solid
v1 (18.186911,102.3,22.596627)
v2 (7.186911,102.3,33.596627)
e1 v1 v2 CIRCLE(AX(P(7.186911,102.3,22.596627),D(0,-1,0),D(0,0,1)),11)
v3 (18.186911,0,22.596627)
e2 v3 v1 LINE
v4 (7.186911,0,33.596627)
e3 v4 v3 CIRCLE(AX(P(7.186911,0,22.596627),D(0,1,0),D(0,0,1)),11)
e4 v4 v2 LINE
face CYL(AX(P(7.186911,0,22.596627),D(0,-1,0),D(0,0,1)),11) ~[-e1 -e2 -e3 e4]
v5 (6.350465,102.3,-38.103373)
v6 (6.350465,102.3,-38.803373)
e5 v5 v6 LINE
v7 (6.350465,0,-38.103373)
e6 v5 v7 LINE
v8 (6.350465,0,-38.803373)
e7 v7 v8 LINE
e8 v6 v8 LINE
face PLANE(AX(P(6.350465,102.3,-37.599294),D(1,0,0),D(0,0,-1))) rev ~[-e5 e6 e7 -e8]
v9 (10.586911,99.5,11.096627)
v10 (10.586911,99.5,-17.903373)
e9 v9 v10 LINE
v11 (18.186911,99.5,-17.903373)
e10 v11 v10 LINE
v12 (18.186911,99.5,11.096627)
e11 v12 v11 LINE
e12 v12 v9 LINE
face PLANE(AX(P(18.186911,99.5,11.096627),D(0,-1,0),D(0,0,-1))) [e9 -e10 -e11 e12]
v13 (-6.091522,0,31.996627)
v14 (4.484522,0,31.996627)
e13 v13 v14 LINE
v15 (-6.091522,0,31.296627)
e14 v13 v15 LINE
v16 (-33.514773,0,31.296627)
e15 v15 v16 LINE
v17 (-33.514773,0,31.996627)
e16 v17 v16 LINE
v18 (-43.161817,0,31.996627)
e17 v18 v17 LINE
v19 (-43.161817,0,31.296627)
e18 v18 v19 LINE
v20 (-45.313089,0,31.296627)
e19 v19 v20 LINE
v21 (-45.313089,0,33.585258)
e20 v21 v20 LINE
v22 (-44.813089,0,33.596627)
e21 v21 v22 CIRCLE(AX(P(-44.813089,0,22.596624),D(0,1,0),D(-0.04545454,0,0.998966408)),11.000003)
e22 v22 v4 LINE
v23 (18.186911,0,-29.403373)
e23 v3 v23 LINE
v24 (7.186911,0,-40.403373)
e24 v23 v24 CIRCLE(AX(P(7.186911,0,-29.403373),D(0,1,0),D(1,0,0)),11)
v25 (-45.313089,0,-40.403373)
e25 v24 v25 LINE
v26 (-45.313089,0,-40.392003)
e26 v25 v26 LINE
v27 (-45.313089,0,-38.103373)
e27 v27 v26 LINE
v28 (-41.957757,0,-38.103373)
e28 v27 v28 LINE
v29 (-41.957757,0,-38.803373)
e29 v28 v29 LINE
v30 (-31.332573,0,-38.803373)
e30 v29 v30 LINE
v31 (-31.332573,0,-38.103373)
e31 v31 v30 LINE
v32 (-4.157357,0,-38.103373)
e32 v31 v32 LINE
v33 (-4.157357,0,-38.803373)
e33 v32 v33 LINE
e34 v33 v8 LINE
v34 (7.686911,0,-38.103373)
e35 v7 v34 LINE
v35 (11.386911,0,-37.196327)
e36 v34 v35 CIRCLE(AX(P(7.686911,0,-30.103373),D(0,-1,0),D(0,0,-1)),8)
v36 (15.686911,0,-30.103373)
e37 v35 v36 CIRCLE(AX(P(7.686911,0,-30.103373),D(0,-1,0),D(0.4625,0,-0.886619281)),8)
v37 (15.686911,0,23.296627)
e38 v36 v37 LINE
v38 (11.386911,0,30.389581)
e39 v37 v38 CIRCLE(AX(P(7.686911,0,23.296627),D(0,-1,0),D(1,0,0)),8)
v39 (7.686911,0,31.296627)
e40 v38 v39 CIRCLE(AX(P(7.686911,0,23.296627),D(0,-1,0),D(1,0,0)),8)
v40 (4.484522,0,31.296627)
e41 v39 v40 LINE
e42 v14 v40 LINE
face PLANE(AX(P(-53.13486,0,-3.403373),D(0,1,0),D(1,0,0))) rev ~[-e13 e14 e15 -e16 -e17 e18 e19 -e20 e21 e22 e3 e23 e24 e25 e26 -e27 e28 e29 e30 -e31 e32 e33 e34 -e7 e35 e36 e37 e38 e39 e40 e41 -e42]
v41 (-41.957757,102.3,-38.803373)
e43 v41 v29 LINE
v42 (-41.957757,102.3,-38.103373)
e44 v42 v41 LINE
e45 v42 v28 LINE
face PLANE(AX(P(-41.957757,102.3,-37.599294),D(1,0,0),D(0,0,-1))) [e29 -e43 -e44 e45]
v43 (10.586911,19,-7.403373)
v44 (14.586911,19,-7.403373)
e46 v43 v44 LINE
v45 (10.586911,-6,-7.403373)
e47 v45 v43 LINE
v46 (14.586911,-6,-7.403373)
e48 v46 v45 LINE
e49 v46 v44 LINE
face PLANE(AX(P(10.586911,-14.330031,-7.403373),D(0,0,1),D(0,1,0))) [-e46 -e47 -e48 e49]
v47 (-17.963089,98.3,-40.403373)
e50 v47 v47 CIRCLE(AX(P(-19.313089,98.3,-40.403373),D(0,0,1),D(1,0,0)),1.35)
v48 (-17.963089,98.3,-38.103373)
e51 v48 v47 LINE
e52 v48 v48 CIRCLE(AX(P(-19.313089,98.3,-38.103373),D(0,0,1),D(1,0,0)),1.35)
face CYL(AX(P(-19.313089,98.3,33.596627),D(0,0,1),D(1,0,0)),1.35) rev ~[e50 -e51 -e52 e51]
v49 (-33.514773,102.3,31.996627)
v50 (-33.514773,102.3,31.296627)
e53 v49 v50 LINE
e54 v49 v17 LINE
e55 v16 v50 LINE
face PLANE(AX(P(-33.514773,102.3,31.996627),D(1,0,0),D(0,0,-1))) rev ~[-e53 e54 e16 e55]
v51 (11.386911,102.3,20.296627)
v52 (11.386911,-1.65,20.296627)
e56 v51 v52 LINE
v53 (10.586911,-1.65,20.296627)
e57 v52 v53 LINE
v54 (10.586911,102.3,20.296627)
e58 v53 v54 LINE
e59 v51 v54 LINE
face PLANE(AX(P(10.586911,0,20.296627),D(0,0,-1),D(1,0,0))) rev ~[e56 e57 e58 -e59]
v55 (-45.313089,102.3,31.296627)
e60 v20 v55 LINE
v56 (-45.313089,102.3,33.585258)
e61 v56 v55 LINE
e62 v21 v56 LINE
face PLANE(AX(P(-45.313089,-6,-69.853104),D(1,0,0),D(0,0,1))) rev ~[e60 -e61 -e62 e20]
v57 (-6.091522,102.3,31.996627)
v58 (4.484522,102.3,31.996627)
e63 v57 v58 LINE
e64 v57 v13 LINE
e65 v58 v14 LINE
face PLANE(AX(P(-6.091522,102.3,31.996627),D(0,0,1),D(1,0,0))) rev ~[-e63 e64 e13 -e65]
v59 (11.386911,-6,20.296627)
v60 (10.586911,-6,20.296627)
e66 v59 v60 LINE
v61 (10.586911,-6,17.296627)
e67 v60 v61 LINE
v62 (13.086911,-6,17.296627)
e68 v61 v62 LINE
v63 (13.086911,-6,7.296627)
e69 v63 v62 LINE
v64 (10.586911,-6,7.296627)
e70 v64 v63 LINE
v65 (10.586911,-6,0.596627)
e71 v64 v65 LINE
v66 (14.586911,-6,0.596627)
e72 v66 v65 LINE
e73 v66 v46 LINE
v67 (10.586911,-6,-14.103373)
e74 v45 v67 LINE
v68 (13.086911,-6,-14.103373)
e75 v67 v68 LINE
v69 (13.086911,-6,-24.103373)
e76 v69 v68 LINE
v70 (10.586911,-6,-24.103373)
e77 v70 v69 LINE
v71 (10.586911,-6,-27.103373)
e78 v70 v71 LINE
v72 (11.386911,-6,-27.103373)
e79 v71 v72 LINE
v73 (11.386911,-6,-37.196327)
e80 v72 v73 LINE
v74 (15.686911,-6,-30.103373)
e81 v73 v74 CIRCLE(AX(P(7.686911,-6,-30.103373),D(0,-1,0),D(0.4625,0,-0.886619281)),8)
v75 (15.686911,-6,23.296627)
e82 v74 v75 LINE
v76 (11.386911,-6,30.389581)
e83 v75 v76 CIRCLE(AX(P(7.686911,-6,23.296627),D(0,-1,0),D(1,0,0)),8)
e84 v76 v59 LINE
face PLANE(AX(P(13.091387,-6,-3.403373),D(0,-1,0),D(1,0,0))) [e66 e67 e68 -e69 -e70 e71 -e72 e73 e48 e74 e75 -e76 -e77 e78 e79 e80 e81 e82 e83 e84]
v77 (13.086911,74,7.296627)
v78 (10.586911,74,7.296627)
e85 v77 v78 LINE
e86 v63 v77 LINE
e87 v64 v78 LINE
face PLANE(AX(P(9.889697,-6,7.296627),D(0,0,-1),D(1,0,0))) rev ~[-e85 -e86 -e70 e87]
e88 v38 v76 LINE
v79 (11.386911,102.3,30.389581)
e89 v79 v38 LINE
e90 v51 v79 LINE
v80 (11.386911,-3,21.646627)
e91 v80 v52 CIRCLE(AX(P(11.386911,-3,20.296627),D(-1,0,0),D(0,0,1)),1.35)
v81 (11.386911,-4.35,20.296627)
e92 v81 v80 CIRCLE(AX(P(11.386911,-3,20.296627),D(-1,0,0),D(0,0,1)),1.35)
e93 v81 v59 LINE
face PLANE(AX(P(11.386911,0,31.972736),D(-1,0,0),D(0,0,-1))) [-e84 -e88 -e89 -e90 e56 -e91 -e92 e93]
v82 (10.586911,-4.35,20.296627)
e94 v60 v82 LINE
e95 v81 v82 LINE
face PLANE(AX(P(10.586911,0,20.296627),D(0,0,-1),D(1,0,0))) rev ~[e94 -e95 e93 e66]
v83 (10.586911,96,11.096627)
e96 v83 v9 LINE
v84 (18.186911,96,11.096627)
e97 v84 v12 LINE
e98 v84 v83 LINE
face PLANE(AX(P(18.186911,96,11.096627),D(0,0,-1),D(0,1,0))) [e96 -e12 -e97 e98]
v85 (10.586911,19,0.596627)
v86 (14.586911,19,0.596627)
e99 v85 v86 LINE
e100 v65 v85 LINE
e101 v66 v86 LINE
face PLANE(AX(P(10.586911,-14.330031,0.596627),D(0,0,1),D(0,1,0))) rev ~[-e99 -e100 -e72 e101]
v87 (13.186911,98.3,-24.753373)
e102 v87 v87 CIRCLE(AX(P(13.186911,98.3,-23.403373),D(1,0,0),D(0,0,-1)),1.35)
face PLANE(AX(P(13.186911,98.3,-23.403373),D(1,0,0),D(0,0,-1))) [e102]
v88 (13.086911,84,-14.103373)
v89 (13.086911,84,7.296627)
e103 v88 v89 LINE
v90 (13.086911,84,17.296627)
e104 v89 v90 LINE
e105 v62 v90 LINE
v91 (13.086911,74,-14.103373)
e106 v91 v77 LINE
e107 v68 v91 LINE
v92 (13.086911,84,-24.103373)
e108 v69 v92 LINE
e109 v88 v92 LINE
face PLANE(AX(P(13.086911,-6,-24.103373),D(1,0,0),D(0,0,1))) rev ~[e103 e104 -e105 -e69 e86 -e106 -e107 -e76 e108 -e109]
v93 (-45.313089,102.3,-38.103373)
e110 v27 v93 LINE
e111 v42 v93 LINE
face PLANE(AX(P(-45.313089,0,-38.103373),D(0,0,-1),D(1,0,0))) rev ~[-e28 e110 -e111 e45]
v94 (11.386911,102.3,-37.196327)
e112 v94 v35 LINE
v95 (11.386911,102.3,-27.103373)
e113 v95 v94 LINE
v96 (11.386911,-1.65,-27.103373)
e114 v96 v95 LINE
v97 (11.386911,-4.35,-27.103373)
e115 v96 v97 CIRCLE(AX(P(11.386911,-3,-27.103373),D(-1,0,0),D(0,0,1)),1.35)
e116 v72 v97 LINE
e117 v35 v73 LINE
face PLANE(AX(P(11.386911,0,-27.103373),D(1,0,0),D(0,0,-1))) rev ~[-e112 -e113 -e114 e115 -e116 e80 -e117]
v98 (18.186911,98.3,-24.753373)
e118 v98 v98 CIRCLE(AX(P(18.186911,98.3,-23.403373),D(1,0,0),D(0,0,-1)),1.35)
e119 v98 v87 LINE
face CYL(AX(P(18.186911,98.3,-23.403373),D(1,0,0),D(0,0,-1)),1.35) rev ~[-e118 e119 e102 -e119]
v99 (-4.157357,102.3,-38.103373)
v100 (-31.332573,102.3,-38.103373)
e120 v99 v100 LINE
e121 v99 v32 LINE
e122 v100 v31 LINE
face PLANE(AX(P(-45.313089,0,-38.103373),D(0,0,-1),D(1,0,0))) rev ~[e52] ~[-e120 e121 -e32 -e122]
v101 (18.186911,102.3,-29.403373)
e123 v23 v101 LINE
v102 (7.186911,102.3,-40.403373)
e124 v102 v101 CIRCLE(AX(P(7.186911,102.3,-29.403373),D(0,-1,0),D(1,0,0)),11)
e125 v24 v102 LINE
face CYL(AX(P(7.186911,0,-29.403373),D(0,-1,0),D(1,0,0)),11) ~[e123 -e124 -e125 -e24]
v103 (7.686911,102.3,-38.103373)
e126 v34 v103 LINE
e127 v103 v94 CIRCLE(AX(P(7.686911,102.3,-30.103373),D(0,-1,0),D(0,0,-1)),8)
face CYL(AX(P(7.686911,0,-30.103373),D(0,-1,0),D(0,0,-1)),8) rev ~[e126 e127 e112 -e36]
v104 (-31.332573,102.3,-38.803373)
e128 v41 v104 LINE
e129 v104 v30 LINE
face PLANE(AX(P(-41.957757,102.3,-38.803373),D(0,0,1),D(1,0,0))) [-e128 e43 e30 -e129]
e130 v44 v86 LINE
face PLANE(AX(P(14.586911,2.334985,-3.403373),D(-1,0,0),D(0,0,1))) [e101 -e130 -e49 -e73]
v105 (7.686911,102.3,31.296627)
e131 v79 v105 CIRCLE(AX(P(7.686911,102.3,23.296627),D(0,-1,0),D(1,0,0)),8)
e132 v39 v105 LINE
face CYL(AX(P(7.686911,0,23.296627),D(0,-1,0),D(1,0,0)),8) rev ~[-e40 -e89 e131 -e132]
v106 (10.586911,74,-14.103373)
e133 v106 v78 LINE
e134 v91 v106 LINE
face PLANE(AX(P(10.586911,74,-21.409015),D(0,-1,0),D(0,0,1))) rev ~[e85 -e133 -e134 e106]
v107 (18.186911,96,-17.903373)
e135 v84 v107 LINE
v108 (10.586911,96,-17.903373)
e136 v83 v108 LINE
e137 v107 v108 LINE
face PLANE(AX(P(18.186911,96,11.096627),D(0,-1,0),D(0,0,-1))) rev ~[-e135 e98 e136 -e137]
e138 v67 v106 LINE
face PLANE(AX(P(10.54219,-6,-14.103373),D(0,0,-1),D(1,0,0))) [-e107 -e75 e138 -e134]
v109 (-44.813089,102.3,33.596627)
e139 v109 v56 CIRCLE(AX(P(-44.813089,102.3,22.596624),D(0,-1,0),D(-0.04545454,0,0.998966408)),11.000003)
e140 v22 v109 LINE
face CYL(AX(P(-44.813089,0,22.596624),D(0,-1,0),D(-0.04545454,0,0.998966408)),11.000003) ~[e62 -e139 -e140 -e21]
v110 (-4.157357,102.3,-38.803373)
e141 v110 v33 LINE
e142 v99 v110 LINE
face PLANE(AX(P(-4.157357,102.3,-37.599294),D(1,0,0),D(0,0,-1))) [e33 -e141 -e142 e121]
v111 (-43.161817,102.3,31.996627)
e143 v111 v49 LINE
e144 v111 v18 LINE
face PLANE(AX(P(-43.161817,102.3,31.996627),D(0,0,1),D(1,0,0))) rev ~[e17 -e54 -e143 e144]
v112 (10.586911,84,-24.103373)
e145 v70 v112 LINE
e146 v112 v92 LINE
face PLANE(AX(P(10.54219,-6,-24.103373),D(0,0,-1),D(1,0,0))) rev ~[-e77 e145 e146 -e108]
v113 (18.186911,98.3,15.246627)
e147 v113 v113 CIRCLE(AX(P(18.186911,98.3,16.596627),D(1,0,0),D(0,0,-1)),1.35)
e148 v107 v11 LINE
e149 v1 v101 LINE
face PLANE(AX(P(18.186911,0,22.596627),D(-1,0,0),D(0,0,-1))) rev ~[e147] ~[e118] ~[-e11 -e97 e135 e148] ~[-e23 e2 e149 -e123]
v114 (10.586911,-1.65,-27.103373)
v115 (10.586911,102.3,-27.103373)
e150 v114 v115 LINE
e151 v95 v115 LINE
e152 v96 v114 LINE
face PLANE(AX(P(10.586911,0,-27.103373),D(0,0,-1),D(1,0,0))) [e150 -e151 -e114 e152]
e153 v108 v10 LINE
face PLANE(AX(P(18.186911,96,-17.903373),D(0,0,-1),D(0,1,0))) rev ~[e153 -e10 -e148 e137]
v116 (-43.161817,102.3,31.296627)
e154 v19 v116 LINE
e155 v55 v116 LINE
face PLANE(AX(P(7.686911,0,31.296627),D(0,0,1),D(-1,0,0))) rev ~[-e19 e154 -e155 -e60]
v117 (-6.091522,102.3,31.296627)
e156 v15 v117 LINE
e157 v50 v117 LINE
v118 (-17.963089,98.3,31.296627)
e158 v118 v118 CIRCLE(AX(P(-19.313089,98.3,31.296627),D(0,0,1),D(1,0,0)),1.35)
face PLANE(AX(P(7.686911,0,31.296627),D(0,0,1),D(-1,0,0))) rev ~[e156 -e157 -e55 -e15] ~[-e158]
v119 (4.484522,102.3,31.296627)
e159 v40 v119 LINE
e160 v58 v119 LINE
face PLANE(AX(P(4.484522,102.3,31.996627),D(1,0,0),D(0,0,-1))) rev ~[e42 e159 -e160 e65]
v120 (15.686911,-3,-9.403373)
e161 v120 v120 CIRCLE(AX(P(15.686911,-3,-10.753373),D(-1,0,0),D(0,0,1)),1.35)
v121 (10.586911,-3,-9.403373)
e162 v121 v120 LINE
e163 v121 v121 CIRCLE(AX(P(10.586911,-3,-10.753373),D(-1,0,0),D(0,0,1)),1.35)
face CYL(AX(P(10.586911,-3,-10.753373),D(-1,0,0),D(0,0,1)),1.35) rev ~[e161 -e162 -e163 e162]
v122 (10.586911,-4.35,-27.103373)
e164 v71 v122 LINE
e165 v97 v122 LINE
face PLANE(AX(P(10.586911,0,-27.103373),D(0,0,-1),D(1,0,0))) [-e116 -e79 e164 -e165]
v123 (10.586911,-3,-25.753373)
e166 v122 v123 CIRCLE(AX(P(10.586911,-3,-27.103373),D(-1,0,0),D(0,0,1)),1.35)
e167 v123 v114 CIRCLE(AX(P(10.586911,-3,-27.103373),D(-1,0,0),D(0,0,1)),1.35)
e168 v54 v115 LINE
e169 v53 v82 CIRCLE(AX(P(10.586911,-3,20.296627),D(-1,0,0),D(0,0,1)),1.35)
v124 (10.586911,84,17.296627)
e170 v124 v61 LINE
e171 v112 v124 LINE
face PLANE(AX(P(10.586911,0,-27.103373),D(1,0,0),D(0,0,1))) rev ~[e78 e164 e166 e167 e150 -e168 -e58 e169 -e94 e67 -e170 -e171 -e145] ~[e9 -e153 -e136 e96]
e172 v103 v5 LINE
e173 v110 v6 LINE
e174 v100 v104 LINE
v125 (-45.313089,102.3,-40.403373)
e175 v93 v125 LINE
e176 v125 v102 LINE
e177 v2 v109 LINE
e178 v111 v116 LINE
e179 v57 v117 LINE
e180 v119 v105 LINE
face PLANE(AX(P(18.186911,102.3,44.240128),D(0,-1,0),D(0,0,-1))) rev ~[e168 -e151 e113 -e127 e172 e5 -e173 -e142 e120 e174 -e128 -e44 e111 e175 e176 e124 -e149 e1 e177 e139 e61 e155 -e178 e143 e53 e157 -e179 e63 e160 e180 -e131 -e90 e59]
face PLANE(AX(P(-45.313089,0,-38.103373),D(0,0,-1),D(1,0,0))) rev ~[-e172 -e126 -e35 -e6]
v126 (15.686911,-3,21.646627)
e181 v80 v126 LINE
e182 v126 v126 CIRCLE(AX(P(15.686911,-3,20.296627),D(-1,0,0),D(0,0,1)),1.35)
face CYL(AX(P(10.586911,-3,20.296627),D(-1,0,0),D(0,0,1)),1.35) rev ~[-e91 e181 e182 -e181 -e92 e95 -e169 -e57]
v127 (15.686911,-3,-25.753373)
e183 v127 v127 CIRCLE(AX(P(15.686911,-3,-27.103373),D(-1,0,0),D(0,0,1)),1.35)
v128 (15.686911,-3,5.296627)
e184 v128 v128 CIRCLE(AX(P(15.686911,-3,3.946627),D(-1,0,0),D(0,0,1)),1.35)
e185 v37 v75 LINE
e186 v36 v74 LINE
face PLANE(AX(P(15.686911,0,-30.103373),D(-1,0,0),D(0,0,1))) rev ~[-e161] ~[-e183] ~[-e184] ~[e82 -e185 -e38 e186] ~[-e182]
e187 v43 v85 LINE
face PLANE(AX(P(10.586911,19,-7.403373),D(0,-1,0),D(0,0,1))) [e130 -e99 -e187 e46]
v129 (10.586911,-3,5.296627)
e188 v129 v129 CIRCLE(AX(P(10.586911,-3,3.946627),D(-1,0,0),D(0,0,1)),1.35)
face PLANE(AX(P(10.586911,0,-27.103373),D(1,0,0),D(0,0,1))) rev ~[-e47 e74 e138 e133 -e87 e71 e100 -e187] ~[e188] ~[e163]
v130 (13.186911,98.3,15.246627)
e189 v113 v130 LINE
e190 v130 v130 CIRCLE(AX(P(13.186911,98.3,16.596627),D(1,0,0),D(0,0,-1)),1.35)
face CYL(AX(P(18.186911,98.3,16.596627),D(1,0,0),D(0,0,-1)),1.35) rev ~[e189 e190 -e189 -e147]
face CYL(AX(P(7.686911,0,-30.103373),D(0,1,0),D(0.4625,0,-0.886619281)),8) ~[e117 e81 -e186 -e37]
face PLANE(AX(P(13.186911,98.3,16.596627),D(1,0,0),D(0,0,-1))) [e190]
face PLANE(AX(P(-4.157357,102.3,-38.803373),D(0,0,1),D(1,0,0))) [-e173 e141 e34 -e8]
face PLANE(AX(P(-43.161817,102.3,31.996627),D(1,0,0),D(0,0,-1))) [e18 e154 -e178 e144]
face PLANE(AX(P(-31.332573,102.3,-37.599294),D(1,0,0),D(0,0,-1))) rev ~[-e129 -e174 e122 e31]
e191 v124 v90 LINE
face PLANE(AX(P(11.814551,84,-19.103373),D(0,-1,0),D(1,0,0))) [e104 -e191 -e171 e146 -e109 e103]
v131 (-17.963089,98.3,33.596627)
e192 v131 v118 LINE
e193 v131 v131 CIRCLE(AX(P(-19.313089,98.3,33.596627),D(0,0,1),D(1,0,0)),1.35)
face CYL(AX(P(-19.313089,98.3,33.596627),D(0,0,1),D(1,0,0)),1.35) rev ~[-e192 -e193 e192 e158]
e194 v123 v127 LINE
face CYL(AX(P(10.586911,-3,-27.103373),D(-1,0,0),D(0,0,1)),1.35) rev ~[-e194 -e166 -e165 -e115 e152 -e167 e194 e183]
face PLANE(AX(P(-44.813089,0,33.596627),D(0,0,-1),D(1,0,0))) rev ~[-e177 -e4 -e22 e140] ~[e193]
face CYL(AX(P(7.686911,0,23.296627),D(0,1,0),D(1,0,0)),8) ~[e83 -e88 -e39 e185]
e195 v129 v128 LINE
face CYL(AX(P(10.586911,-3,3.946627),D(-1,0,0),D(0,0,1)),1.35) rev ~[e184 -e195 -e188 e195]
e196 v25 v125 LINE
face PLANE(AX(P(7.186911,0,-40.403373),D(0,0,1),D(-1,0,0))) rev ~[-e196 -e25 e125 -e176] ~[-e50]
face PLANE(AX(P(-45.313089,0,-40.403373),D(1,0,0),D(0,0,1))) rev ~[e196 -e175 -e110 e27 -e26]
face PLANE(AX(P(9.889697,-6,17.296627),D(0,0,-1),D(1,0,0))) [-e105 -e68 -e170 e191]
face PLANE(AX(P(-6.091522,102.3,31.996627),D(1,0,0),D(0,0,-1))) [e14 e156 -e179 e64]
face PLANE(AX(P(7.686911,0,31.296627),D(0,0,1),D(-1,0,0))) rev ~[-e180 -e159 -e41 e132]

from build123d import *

# Parameters (mm, degrees)
BOSS_EXTRUDE1_DEPTH = 120
BOSS_EXTRUDE2_DEPTH = 120
SKETCH4_W           = 0.8
SKETCH4_H           = 47.4
BOSS_EXTRUDE3_DEPTH = 120
BOSS_EXTRUDE4_DEPTH = 6
SKETCH6_W           = 3.197214061
SKETCH6_H           = 10
SKETCH6_W_2         = 2.544721395
CUT_EXTRUDE1_DEPTH  = 90
SKETCH7_W           = 18.489641695
SKETCH7_H           = 120.194280457
CUT_EXTRUDE2_DEPTH  = 140
SKETCH9_W           = 8
SKETCH9_H           = 33.33003075
CUT_EXTRUDE3_DEPTH  = 4
SKETCH10_R          = 1.35
CUT_EXTRUDE4_DEPTH  = 11
SKETCH11_R          = 1.35
CUT_EXTRUDE5_DEPTH  = 11
SKETCH12_W          = 29
SKETCH12_H          = 3.5
CUT_EXTRUDE6_DEPTH  = 10
SKETCH13_W          = 93.224255338
SKETCH13_H          = 23.971951373
CUT_EXTRUDE7_DEPTH  = 103
SKETCH14_W          = 38.705642401
SKETCH14_H          = 10
CUT_EXTRUDE8_DEPTH  = 2.5
SKETCH15_R          = 1.35
CUT_EXTRUDE9_DEPTH  = 5
SKETCH16_R          = 1.35
CUT_EXTRUDE10_DEPTH = 88
SKETCH17_W          = 10.62518409
SKETCH17_H          = 1.204079054
SKETCH17_W_2        = 10.507821767
SKETCH17_W_3        = 9.64704318
SKETCH17_H_2        = 1.005507522
SKETCH17_W_4        = 10.576043604
SKETCH17_H_3        = 1.445279271
CUT_EXTRUDE11_DEPTH = 200


with BuildPart() as part:
    # Sketch1 → Boss-Extrude1 (new body)
    with BuildSketch(Plane(origin=(0, 0, 0), x_dir=(1, 0, 0), z_dir=(0, 1, 0))):
        with BuildLine():
            Line((-55.813088795, 29.403372847), (-55.813088795, -22.596627153))
            ThreePointArc((-55.813088795, -22.596627153), (-52.766075655, -30.195969229), (-45.313088795, -33.585257641))
            Line((-45.313088795, -33.585257641), (-45.313088795, -31.296627153))
            ThreePointArc((-45.313088795, -31.296627153), (-50.969943044, -28.953481402), (-53.313088795, -23.296627153))
            Line((-53.313088795, -23.296627153), (-53.313088795, 30.103372847))
            ThreePointArc((-53.313088795, 30.103372847), (-50.969943044, 35.760227097), (-45.313088795, 38.103372847))
            Line((-45.313088795, 38.103372847), (-45.313088795, 40.392003335))
            ThreePointArc((-45.313088795, 40.392003335), (-52.766075655, 37.002714924), (-55.813088795, 29.403372847))
        make_face()
        with BuildLine():
            Line((-45.313088795, -31.296627153), (-45.313088795, -33.585257641))
            ThreePointArc((-45.313088795, -33.585257641), (-45.063153419, -33.593784407), (-44.813088795, -33.596627153))
            Line((-44.813088795, -33.596627153), (7.186911205, -33.596627153))
            ThreePointArc((7.186911205, -33.596627153), (14.965085798, -30.374801746), (18.186911205, -22.596627153))
            Line((18.186911205, -22.596627153), (18.186911205, 29.403372847))
            ThreePointArc((18.186911205, 29.403372847), (14.965085798, 37.18154744), (7.186911205, 40.403372847))
            Line((7.186911205, 40.403372847), (-45.313088795, 40.403372847))
            Line((-45.313088795, 40.403372847), (-45.313088795, 40.392003335))
            Line((-45.313088795, 40.392003335), (-45.313088795, 38.103372847))
            Line((-45.313088795, 38.103372847), (7.686911205, 38.103372847))
            ThreePointArc((7.686911205, 38.103372847), (13.343765455, 35.760227097), (15.686911205, 30.103372847))
            Line((15.686911205, 30.103372847), (15.686911205, -23.296627153))
            ThreePointArc((15.686911205, -23.296627153), (13.343765455, -28.953481402), (7.686911205, -31.296627153))
            Line((7.686911205, -31.296627153), (-45.313088795, -31.296627153))
        make_face()
    extrude(amount=BOSS_EXTRUDE1_DEPTH)

    # Sketch3 → Boss-Extrude2 (add)
    with BuildSketch(Plane.XZ):
        Polygon((-49.013088795, 31.972735522), (-49.013088795, -37.623215713), (-53.336517426, -34.913867104), (-55.11106611, -29.984565206), (-55.11106611, -26.811210851), (-55.11106611, 25.452378342), (-53.652842224, 27.779331351), (-52.073193111, 30.226675048), align=None)
        Polygon((11.386911205, 31.972735522), (11.386911205, -38.487790626), (13.269736219, -37.809973621), (16.737085445, -32.276969537), (16.568342629, -31.170966754), (16.568342629, 24.789777041), (15.03852436, 28.997230807), align=None)
    extrude(amount=-BOSS_EXTRUDE2_DEPTH)

    # Sketch4 → Boss-Extrude3 (add)
    with BuildSketch(Plane.XZ):
        with Locations((10.986911205, -3.403372847)):
            Rectangle(SKETCH4_W, SKETCH4_H)
        with Locations((-48.613088795, -3.403372847)):
            Rectangle(SKETCH4_W, SKETCH4_H)
    extrude(amount=-BOSS_EXTRUDE3_DEPTH)

    # Sketch5 → Boss-Extrude4 (add)
    with BuildSketch(Plane.XZ):
        with BuildLine():
            ThreePointArc((-49.013088795, 30.389581403), (-52.154141346, 27.443915423), (-53.313088795, 23.296627153))
            Line((-53.313088795, 23.296627153), (-53.313088795, -30.103372847))
            ThreePointArc((-53.313088795, -30.103372847), (-52.154141346, -34.250661118), (-49.013088795, -37.196327098))
            Line((-49.013088795, -37.196327098), (-49.013088795, -27.103372847))
            Line((-49.013088795, -27.103372847), (-48.213088795, -27.103372847))
            Line((-48.213088795, -27.103372847), (-48.213088795, 20.296627153))
            Line((-48.213088795, 20.296627153), (-49.013088795, 20.296627153))
            Line((-49.013088795, 20.296627153), (-49.013088795, 30.389581403))
        make_face()
        with BuildLine():
            ThreePointArc((11.386911205, -37.196327098), (14.527963756, -34.250661118), (15.686911205, -30.103372847))
            Line((15.686911205, -30.103372847), (15.686911205, 23.296627153))
            ThreePointArc((15.686911205, 23.296627153), (14.527963756, 27.443915423), (11.386911205, 30.389581403))
            Line((11.386911205, 30.389581403), (11.386911205, 20.296627153))
            Line((11.386911205, 20.296627153), (10.586911205, 20.296627153))
            Line((10.586911205, 20.296627153), (10.586911205, -27.103372847))
            Line((10.586911205, -27.103372847), (11.386911205, -27.103372847))
            Line((11.386911205, -27.103372847), (11.386911205, -37.196327098))
        make_face()
    extrude(amount=BOSS_EXTRUDE4_DEPTH)

    # Sketch6 → Cut-Extrude1 (cut)
    with BuildSketch(Plane.XZ.offset(6)):
        with Locations((-49.114481764, 12.296627153)):
            Rectangle(SKETCH6_W, SKETCH6_H)
        with Locations((-49.440728097, -19.103372847)):
            Rectangle(SKETCH6_W_2, SKETCH6_H)
        with Locations((11.814550508, -19.103372847)):
            Rectangle(SKETCH6_W_2, SKETCH6_H)
        with Locations((11.488304175, 12.296627153)):
            Rectangle(SKETCH6_W, SKETCH6_H)
    extrude(amount=-CUT_EXTRUDE1_DEPTH, mode=Mode.SUBTRACT)

    # Sketch7 → Cut-Extrude2 (cut)
    with BuildSketch(Plane.XZ.offset(6)):
        with Locations((-54.557909643, -9.755963426)):
            Rectangle(SKETCH7_W, SKETCH7_H)
    extrude(amount=-CUT_EXTRUDE2_DEPTH, mode=Mode.SUBTRACT)

    # Sketch9 → Cut-Extrude3 (cut)
    with BuildSketch(Plane.ZY.offset(-10.586911205)):
        with Locations((-3.403372847, 2.334984625)):
            Rectangle(SKETCH9_W, SKETCH9_H)
    extrude(amount=-CUT_EXTRUDE3_DEPTH, mode=Mode.SUBTRACT)

    # Sketch10 → Cut-Extrude4 (cut)
    with BuildSketch(Plane.ZY.offset(-10.586911205)):
        with Locations((-10.753372847, -3)):
            Circle(SKETCH10_R)
        with Locations((3.946627153, -3)):
            Circle(SKETCH10_R)
    extrude(amount=-CUT_EXTRUDE4_DEPTH, mode=Mode.SUBTRACT)

    # Sketch11 → Cut-Extrude5 (cut)
    with BuildSketch(Plane.ZY.offset(-10.586911205)):
        with Locations((20.296627153, -3)):
            Circle(SKETCH11_R)
        with Locations((-27.103372847, -3)):
            Circle(SKETCH11_R)
    extrude(amount=-CUT_EXTRUDE5_DEPTH, mode=Mode.SUBTRACT)

    # Sketch12 → Cut-Extrude6 (cut)
    with BuildSketch(Plane(origin=(18.186911205, 0, 0), x_dir=(0, 0, -1), z_dir=(1, 0, 0))):
        with Locations((3.403372847, 97.75)):
            Rectangle(SKETCH12_W, SKETCH12_H)
    extrude(amount=-CUT_EXTRUDE6_DEPTH, mode=Mode.SUBTRACT)

    # Sketch13 → Cut-Extrude7 (cut)
    with BuildSketch(Plane(origin=(18.186911205, 0, 0), x_dir=(0, 0, -1), z_dir=(1, 0, 0))):
        with Locations((2.372000063, 114.285975687)):
            Rectangle(SKETCH13_W, SKETCH13_H)
    extrude(amount=-CUT_EXTRUDE7_DEPTH, mode=Mode.SUBTRACT)

    # Sketch14 → Cut-Extrude8 (cut)
    with BuildSketch(Plane.ZY.offset(-10.586911205)):
        with Locations((-2.056194048, 79)):
            Rectangle(SKETCH14_W, SKETCH14_H)
    extrude(amount=-CUT_EXTRUDE8_DEPTH, mode=Mode.SUBTRACT)

    # Sketch15 → Cut-Extrude9 (cut)
    with BuildSketch(Plane(origin=(18.186911205, 0, 0), x_dir=(0, 0, -1), z_dir=(1, 0, 0))):
        with Locations((23.403372847, 98.3)):
            Circle(SKETCH15_R)
        with Locations((-16.596627153, 98.3)):
            Circle(SKETCH15_R)
    extrude(amount=-CUT_EXTRUDE9_DEPTH, mode=Mode.SUBTRACT)

    # Sketch16 → Cut-Extrude10 (cut)
    with BuildSketch(Plane.XY.offset(33.596627153)):
        with Locations((-19.313088795, 98.3)):
            Circle(SKETCH16_R)
    extrude(amount=-CUT_EXTRUDE10_DEPTH, mode=Mode.SUBTRACT)

    # Sketch17 → Cut-Extrude11 (cut)
    with BuildSketch(Plane(origin=(0, 102.3, 0), x_dir=(1, 0, 0), z_dir=(0, 1, 0))):
        with Locations((-36.645164777, 38.20133332)):
            Rectangle(SKETCH17_W, SKETCH17_H)
        with Locations((1.096553781, 38.20133332)):
            Rectangle(SKETCH17_W_2, SKETCH17_H)
        with Locations((-38.338294946, -31.493873392)):
            Rectangle(SKETCH17_W_3, SKETCH17_H_2)
        with Locations((-0.803500168, -31.273987518)):
            Rectangle(SKETCH17_W_4, SKETCH17_H_3)
    extrude(amount=-CUT_EXTRUDE11_DEPTH, mode=Mode.SUBTRACT)


solid = part.part
